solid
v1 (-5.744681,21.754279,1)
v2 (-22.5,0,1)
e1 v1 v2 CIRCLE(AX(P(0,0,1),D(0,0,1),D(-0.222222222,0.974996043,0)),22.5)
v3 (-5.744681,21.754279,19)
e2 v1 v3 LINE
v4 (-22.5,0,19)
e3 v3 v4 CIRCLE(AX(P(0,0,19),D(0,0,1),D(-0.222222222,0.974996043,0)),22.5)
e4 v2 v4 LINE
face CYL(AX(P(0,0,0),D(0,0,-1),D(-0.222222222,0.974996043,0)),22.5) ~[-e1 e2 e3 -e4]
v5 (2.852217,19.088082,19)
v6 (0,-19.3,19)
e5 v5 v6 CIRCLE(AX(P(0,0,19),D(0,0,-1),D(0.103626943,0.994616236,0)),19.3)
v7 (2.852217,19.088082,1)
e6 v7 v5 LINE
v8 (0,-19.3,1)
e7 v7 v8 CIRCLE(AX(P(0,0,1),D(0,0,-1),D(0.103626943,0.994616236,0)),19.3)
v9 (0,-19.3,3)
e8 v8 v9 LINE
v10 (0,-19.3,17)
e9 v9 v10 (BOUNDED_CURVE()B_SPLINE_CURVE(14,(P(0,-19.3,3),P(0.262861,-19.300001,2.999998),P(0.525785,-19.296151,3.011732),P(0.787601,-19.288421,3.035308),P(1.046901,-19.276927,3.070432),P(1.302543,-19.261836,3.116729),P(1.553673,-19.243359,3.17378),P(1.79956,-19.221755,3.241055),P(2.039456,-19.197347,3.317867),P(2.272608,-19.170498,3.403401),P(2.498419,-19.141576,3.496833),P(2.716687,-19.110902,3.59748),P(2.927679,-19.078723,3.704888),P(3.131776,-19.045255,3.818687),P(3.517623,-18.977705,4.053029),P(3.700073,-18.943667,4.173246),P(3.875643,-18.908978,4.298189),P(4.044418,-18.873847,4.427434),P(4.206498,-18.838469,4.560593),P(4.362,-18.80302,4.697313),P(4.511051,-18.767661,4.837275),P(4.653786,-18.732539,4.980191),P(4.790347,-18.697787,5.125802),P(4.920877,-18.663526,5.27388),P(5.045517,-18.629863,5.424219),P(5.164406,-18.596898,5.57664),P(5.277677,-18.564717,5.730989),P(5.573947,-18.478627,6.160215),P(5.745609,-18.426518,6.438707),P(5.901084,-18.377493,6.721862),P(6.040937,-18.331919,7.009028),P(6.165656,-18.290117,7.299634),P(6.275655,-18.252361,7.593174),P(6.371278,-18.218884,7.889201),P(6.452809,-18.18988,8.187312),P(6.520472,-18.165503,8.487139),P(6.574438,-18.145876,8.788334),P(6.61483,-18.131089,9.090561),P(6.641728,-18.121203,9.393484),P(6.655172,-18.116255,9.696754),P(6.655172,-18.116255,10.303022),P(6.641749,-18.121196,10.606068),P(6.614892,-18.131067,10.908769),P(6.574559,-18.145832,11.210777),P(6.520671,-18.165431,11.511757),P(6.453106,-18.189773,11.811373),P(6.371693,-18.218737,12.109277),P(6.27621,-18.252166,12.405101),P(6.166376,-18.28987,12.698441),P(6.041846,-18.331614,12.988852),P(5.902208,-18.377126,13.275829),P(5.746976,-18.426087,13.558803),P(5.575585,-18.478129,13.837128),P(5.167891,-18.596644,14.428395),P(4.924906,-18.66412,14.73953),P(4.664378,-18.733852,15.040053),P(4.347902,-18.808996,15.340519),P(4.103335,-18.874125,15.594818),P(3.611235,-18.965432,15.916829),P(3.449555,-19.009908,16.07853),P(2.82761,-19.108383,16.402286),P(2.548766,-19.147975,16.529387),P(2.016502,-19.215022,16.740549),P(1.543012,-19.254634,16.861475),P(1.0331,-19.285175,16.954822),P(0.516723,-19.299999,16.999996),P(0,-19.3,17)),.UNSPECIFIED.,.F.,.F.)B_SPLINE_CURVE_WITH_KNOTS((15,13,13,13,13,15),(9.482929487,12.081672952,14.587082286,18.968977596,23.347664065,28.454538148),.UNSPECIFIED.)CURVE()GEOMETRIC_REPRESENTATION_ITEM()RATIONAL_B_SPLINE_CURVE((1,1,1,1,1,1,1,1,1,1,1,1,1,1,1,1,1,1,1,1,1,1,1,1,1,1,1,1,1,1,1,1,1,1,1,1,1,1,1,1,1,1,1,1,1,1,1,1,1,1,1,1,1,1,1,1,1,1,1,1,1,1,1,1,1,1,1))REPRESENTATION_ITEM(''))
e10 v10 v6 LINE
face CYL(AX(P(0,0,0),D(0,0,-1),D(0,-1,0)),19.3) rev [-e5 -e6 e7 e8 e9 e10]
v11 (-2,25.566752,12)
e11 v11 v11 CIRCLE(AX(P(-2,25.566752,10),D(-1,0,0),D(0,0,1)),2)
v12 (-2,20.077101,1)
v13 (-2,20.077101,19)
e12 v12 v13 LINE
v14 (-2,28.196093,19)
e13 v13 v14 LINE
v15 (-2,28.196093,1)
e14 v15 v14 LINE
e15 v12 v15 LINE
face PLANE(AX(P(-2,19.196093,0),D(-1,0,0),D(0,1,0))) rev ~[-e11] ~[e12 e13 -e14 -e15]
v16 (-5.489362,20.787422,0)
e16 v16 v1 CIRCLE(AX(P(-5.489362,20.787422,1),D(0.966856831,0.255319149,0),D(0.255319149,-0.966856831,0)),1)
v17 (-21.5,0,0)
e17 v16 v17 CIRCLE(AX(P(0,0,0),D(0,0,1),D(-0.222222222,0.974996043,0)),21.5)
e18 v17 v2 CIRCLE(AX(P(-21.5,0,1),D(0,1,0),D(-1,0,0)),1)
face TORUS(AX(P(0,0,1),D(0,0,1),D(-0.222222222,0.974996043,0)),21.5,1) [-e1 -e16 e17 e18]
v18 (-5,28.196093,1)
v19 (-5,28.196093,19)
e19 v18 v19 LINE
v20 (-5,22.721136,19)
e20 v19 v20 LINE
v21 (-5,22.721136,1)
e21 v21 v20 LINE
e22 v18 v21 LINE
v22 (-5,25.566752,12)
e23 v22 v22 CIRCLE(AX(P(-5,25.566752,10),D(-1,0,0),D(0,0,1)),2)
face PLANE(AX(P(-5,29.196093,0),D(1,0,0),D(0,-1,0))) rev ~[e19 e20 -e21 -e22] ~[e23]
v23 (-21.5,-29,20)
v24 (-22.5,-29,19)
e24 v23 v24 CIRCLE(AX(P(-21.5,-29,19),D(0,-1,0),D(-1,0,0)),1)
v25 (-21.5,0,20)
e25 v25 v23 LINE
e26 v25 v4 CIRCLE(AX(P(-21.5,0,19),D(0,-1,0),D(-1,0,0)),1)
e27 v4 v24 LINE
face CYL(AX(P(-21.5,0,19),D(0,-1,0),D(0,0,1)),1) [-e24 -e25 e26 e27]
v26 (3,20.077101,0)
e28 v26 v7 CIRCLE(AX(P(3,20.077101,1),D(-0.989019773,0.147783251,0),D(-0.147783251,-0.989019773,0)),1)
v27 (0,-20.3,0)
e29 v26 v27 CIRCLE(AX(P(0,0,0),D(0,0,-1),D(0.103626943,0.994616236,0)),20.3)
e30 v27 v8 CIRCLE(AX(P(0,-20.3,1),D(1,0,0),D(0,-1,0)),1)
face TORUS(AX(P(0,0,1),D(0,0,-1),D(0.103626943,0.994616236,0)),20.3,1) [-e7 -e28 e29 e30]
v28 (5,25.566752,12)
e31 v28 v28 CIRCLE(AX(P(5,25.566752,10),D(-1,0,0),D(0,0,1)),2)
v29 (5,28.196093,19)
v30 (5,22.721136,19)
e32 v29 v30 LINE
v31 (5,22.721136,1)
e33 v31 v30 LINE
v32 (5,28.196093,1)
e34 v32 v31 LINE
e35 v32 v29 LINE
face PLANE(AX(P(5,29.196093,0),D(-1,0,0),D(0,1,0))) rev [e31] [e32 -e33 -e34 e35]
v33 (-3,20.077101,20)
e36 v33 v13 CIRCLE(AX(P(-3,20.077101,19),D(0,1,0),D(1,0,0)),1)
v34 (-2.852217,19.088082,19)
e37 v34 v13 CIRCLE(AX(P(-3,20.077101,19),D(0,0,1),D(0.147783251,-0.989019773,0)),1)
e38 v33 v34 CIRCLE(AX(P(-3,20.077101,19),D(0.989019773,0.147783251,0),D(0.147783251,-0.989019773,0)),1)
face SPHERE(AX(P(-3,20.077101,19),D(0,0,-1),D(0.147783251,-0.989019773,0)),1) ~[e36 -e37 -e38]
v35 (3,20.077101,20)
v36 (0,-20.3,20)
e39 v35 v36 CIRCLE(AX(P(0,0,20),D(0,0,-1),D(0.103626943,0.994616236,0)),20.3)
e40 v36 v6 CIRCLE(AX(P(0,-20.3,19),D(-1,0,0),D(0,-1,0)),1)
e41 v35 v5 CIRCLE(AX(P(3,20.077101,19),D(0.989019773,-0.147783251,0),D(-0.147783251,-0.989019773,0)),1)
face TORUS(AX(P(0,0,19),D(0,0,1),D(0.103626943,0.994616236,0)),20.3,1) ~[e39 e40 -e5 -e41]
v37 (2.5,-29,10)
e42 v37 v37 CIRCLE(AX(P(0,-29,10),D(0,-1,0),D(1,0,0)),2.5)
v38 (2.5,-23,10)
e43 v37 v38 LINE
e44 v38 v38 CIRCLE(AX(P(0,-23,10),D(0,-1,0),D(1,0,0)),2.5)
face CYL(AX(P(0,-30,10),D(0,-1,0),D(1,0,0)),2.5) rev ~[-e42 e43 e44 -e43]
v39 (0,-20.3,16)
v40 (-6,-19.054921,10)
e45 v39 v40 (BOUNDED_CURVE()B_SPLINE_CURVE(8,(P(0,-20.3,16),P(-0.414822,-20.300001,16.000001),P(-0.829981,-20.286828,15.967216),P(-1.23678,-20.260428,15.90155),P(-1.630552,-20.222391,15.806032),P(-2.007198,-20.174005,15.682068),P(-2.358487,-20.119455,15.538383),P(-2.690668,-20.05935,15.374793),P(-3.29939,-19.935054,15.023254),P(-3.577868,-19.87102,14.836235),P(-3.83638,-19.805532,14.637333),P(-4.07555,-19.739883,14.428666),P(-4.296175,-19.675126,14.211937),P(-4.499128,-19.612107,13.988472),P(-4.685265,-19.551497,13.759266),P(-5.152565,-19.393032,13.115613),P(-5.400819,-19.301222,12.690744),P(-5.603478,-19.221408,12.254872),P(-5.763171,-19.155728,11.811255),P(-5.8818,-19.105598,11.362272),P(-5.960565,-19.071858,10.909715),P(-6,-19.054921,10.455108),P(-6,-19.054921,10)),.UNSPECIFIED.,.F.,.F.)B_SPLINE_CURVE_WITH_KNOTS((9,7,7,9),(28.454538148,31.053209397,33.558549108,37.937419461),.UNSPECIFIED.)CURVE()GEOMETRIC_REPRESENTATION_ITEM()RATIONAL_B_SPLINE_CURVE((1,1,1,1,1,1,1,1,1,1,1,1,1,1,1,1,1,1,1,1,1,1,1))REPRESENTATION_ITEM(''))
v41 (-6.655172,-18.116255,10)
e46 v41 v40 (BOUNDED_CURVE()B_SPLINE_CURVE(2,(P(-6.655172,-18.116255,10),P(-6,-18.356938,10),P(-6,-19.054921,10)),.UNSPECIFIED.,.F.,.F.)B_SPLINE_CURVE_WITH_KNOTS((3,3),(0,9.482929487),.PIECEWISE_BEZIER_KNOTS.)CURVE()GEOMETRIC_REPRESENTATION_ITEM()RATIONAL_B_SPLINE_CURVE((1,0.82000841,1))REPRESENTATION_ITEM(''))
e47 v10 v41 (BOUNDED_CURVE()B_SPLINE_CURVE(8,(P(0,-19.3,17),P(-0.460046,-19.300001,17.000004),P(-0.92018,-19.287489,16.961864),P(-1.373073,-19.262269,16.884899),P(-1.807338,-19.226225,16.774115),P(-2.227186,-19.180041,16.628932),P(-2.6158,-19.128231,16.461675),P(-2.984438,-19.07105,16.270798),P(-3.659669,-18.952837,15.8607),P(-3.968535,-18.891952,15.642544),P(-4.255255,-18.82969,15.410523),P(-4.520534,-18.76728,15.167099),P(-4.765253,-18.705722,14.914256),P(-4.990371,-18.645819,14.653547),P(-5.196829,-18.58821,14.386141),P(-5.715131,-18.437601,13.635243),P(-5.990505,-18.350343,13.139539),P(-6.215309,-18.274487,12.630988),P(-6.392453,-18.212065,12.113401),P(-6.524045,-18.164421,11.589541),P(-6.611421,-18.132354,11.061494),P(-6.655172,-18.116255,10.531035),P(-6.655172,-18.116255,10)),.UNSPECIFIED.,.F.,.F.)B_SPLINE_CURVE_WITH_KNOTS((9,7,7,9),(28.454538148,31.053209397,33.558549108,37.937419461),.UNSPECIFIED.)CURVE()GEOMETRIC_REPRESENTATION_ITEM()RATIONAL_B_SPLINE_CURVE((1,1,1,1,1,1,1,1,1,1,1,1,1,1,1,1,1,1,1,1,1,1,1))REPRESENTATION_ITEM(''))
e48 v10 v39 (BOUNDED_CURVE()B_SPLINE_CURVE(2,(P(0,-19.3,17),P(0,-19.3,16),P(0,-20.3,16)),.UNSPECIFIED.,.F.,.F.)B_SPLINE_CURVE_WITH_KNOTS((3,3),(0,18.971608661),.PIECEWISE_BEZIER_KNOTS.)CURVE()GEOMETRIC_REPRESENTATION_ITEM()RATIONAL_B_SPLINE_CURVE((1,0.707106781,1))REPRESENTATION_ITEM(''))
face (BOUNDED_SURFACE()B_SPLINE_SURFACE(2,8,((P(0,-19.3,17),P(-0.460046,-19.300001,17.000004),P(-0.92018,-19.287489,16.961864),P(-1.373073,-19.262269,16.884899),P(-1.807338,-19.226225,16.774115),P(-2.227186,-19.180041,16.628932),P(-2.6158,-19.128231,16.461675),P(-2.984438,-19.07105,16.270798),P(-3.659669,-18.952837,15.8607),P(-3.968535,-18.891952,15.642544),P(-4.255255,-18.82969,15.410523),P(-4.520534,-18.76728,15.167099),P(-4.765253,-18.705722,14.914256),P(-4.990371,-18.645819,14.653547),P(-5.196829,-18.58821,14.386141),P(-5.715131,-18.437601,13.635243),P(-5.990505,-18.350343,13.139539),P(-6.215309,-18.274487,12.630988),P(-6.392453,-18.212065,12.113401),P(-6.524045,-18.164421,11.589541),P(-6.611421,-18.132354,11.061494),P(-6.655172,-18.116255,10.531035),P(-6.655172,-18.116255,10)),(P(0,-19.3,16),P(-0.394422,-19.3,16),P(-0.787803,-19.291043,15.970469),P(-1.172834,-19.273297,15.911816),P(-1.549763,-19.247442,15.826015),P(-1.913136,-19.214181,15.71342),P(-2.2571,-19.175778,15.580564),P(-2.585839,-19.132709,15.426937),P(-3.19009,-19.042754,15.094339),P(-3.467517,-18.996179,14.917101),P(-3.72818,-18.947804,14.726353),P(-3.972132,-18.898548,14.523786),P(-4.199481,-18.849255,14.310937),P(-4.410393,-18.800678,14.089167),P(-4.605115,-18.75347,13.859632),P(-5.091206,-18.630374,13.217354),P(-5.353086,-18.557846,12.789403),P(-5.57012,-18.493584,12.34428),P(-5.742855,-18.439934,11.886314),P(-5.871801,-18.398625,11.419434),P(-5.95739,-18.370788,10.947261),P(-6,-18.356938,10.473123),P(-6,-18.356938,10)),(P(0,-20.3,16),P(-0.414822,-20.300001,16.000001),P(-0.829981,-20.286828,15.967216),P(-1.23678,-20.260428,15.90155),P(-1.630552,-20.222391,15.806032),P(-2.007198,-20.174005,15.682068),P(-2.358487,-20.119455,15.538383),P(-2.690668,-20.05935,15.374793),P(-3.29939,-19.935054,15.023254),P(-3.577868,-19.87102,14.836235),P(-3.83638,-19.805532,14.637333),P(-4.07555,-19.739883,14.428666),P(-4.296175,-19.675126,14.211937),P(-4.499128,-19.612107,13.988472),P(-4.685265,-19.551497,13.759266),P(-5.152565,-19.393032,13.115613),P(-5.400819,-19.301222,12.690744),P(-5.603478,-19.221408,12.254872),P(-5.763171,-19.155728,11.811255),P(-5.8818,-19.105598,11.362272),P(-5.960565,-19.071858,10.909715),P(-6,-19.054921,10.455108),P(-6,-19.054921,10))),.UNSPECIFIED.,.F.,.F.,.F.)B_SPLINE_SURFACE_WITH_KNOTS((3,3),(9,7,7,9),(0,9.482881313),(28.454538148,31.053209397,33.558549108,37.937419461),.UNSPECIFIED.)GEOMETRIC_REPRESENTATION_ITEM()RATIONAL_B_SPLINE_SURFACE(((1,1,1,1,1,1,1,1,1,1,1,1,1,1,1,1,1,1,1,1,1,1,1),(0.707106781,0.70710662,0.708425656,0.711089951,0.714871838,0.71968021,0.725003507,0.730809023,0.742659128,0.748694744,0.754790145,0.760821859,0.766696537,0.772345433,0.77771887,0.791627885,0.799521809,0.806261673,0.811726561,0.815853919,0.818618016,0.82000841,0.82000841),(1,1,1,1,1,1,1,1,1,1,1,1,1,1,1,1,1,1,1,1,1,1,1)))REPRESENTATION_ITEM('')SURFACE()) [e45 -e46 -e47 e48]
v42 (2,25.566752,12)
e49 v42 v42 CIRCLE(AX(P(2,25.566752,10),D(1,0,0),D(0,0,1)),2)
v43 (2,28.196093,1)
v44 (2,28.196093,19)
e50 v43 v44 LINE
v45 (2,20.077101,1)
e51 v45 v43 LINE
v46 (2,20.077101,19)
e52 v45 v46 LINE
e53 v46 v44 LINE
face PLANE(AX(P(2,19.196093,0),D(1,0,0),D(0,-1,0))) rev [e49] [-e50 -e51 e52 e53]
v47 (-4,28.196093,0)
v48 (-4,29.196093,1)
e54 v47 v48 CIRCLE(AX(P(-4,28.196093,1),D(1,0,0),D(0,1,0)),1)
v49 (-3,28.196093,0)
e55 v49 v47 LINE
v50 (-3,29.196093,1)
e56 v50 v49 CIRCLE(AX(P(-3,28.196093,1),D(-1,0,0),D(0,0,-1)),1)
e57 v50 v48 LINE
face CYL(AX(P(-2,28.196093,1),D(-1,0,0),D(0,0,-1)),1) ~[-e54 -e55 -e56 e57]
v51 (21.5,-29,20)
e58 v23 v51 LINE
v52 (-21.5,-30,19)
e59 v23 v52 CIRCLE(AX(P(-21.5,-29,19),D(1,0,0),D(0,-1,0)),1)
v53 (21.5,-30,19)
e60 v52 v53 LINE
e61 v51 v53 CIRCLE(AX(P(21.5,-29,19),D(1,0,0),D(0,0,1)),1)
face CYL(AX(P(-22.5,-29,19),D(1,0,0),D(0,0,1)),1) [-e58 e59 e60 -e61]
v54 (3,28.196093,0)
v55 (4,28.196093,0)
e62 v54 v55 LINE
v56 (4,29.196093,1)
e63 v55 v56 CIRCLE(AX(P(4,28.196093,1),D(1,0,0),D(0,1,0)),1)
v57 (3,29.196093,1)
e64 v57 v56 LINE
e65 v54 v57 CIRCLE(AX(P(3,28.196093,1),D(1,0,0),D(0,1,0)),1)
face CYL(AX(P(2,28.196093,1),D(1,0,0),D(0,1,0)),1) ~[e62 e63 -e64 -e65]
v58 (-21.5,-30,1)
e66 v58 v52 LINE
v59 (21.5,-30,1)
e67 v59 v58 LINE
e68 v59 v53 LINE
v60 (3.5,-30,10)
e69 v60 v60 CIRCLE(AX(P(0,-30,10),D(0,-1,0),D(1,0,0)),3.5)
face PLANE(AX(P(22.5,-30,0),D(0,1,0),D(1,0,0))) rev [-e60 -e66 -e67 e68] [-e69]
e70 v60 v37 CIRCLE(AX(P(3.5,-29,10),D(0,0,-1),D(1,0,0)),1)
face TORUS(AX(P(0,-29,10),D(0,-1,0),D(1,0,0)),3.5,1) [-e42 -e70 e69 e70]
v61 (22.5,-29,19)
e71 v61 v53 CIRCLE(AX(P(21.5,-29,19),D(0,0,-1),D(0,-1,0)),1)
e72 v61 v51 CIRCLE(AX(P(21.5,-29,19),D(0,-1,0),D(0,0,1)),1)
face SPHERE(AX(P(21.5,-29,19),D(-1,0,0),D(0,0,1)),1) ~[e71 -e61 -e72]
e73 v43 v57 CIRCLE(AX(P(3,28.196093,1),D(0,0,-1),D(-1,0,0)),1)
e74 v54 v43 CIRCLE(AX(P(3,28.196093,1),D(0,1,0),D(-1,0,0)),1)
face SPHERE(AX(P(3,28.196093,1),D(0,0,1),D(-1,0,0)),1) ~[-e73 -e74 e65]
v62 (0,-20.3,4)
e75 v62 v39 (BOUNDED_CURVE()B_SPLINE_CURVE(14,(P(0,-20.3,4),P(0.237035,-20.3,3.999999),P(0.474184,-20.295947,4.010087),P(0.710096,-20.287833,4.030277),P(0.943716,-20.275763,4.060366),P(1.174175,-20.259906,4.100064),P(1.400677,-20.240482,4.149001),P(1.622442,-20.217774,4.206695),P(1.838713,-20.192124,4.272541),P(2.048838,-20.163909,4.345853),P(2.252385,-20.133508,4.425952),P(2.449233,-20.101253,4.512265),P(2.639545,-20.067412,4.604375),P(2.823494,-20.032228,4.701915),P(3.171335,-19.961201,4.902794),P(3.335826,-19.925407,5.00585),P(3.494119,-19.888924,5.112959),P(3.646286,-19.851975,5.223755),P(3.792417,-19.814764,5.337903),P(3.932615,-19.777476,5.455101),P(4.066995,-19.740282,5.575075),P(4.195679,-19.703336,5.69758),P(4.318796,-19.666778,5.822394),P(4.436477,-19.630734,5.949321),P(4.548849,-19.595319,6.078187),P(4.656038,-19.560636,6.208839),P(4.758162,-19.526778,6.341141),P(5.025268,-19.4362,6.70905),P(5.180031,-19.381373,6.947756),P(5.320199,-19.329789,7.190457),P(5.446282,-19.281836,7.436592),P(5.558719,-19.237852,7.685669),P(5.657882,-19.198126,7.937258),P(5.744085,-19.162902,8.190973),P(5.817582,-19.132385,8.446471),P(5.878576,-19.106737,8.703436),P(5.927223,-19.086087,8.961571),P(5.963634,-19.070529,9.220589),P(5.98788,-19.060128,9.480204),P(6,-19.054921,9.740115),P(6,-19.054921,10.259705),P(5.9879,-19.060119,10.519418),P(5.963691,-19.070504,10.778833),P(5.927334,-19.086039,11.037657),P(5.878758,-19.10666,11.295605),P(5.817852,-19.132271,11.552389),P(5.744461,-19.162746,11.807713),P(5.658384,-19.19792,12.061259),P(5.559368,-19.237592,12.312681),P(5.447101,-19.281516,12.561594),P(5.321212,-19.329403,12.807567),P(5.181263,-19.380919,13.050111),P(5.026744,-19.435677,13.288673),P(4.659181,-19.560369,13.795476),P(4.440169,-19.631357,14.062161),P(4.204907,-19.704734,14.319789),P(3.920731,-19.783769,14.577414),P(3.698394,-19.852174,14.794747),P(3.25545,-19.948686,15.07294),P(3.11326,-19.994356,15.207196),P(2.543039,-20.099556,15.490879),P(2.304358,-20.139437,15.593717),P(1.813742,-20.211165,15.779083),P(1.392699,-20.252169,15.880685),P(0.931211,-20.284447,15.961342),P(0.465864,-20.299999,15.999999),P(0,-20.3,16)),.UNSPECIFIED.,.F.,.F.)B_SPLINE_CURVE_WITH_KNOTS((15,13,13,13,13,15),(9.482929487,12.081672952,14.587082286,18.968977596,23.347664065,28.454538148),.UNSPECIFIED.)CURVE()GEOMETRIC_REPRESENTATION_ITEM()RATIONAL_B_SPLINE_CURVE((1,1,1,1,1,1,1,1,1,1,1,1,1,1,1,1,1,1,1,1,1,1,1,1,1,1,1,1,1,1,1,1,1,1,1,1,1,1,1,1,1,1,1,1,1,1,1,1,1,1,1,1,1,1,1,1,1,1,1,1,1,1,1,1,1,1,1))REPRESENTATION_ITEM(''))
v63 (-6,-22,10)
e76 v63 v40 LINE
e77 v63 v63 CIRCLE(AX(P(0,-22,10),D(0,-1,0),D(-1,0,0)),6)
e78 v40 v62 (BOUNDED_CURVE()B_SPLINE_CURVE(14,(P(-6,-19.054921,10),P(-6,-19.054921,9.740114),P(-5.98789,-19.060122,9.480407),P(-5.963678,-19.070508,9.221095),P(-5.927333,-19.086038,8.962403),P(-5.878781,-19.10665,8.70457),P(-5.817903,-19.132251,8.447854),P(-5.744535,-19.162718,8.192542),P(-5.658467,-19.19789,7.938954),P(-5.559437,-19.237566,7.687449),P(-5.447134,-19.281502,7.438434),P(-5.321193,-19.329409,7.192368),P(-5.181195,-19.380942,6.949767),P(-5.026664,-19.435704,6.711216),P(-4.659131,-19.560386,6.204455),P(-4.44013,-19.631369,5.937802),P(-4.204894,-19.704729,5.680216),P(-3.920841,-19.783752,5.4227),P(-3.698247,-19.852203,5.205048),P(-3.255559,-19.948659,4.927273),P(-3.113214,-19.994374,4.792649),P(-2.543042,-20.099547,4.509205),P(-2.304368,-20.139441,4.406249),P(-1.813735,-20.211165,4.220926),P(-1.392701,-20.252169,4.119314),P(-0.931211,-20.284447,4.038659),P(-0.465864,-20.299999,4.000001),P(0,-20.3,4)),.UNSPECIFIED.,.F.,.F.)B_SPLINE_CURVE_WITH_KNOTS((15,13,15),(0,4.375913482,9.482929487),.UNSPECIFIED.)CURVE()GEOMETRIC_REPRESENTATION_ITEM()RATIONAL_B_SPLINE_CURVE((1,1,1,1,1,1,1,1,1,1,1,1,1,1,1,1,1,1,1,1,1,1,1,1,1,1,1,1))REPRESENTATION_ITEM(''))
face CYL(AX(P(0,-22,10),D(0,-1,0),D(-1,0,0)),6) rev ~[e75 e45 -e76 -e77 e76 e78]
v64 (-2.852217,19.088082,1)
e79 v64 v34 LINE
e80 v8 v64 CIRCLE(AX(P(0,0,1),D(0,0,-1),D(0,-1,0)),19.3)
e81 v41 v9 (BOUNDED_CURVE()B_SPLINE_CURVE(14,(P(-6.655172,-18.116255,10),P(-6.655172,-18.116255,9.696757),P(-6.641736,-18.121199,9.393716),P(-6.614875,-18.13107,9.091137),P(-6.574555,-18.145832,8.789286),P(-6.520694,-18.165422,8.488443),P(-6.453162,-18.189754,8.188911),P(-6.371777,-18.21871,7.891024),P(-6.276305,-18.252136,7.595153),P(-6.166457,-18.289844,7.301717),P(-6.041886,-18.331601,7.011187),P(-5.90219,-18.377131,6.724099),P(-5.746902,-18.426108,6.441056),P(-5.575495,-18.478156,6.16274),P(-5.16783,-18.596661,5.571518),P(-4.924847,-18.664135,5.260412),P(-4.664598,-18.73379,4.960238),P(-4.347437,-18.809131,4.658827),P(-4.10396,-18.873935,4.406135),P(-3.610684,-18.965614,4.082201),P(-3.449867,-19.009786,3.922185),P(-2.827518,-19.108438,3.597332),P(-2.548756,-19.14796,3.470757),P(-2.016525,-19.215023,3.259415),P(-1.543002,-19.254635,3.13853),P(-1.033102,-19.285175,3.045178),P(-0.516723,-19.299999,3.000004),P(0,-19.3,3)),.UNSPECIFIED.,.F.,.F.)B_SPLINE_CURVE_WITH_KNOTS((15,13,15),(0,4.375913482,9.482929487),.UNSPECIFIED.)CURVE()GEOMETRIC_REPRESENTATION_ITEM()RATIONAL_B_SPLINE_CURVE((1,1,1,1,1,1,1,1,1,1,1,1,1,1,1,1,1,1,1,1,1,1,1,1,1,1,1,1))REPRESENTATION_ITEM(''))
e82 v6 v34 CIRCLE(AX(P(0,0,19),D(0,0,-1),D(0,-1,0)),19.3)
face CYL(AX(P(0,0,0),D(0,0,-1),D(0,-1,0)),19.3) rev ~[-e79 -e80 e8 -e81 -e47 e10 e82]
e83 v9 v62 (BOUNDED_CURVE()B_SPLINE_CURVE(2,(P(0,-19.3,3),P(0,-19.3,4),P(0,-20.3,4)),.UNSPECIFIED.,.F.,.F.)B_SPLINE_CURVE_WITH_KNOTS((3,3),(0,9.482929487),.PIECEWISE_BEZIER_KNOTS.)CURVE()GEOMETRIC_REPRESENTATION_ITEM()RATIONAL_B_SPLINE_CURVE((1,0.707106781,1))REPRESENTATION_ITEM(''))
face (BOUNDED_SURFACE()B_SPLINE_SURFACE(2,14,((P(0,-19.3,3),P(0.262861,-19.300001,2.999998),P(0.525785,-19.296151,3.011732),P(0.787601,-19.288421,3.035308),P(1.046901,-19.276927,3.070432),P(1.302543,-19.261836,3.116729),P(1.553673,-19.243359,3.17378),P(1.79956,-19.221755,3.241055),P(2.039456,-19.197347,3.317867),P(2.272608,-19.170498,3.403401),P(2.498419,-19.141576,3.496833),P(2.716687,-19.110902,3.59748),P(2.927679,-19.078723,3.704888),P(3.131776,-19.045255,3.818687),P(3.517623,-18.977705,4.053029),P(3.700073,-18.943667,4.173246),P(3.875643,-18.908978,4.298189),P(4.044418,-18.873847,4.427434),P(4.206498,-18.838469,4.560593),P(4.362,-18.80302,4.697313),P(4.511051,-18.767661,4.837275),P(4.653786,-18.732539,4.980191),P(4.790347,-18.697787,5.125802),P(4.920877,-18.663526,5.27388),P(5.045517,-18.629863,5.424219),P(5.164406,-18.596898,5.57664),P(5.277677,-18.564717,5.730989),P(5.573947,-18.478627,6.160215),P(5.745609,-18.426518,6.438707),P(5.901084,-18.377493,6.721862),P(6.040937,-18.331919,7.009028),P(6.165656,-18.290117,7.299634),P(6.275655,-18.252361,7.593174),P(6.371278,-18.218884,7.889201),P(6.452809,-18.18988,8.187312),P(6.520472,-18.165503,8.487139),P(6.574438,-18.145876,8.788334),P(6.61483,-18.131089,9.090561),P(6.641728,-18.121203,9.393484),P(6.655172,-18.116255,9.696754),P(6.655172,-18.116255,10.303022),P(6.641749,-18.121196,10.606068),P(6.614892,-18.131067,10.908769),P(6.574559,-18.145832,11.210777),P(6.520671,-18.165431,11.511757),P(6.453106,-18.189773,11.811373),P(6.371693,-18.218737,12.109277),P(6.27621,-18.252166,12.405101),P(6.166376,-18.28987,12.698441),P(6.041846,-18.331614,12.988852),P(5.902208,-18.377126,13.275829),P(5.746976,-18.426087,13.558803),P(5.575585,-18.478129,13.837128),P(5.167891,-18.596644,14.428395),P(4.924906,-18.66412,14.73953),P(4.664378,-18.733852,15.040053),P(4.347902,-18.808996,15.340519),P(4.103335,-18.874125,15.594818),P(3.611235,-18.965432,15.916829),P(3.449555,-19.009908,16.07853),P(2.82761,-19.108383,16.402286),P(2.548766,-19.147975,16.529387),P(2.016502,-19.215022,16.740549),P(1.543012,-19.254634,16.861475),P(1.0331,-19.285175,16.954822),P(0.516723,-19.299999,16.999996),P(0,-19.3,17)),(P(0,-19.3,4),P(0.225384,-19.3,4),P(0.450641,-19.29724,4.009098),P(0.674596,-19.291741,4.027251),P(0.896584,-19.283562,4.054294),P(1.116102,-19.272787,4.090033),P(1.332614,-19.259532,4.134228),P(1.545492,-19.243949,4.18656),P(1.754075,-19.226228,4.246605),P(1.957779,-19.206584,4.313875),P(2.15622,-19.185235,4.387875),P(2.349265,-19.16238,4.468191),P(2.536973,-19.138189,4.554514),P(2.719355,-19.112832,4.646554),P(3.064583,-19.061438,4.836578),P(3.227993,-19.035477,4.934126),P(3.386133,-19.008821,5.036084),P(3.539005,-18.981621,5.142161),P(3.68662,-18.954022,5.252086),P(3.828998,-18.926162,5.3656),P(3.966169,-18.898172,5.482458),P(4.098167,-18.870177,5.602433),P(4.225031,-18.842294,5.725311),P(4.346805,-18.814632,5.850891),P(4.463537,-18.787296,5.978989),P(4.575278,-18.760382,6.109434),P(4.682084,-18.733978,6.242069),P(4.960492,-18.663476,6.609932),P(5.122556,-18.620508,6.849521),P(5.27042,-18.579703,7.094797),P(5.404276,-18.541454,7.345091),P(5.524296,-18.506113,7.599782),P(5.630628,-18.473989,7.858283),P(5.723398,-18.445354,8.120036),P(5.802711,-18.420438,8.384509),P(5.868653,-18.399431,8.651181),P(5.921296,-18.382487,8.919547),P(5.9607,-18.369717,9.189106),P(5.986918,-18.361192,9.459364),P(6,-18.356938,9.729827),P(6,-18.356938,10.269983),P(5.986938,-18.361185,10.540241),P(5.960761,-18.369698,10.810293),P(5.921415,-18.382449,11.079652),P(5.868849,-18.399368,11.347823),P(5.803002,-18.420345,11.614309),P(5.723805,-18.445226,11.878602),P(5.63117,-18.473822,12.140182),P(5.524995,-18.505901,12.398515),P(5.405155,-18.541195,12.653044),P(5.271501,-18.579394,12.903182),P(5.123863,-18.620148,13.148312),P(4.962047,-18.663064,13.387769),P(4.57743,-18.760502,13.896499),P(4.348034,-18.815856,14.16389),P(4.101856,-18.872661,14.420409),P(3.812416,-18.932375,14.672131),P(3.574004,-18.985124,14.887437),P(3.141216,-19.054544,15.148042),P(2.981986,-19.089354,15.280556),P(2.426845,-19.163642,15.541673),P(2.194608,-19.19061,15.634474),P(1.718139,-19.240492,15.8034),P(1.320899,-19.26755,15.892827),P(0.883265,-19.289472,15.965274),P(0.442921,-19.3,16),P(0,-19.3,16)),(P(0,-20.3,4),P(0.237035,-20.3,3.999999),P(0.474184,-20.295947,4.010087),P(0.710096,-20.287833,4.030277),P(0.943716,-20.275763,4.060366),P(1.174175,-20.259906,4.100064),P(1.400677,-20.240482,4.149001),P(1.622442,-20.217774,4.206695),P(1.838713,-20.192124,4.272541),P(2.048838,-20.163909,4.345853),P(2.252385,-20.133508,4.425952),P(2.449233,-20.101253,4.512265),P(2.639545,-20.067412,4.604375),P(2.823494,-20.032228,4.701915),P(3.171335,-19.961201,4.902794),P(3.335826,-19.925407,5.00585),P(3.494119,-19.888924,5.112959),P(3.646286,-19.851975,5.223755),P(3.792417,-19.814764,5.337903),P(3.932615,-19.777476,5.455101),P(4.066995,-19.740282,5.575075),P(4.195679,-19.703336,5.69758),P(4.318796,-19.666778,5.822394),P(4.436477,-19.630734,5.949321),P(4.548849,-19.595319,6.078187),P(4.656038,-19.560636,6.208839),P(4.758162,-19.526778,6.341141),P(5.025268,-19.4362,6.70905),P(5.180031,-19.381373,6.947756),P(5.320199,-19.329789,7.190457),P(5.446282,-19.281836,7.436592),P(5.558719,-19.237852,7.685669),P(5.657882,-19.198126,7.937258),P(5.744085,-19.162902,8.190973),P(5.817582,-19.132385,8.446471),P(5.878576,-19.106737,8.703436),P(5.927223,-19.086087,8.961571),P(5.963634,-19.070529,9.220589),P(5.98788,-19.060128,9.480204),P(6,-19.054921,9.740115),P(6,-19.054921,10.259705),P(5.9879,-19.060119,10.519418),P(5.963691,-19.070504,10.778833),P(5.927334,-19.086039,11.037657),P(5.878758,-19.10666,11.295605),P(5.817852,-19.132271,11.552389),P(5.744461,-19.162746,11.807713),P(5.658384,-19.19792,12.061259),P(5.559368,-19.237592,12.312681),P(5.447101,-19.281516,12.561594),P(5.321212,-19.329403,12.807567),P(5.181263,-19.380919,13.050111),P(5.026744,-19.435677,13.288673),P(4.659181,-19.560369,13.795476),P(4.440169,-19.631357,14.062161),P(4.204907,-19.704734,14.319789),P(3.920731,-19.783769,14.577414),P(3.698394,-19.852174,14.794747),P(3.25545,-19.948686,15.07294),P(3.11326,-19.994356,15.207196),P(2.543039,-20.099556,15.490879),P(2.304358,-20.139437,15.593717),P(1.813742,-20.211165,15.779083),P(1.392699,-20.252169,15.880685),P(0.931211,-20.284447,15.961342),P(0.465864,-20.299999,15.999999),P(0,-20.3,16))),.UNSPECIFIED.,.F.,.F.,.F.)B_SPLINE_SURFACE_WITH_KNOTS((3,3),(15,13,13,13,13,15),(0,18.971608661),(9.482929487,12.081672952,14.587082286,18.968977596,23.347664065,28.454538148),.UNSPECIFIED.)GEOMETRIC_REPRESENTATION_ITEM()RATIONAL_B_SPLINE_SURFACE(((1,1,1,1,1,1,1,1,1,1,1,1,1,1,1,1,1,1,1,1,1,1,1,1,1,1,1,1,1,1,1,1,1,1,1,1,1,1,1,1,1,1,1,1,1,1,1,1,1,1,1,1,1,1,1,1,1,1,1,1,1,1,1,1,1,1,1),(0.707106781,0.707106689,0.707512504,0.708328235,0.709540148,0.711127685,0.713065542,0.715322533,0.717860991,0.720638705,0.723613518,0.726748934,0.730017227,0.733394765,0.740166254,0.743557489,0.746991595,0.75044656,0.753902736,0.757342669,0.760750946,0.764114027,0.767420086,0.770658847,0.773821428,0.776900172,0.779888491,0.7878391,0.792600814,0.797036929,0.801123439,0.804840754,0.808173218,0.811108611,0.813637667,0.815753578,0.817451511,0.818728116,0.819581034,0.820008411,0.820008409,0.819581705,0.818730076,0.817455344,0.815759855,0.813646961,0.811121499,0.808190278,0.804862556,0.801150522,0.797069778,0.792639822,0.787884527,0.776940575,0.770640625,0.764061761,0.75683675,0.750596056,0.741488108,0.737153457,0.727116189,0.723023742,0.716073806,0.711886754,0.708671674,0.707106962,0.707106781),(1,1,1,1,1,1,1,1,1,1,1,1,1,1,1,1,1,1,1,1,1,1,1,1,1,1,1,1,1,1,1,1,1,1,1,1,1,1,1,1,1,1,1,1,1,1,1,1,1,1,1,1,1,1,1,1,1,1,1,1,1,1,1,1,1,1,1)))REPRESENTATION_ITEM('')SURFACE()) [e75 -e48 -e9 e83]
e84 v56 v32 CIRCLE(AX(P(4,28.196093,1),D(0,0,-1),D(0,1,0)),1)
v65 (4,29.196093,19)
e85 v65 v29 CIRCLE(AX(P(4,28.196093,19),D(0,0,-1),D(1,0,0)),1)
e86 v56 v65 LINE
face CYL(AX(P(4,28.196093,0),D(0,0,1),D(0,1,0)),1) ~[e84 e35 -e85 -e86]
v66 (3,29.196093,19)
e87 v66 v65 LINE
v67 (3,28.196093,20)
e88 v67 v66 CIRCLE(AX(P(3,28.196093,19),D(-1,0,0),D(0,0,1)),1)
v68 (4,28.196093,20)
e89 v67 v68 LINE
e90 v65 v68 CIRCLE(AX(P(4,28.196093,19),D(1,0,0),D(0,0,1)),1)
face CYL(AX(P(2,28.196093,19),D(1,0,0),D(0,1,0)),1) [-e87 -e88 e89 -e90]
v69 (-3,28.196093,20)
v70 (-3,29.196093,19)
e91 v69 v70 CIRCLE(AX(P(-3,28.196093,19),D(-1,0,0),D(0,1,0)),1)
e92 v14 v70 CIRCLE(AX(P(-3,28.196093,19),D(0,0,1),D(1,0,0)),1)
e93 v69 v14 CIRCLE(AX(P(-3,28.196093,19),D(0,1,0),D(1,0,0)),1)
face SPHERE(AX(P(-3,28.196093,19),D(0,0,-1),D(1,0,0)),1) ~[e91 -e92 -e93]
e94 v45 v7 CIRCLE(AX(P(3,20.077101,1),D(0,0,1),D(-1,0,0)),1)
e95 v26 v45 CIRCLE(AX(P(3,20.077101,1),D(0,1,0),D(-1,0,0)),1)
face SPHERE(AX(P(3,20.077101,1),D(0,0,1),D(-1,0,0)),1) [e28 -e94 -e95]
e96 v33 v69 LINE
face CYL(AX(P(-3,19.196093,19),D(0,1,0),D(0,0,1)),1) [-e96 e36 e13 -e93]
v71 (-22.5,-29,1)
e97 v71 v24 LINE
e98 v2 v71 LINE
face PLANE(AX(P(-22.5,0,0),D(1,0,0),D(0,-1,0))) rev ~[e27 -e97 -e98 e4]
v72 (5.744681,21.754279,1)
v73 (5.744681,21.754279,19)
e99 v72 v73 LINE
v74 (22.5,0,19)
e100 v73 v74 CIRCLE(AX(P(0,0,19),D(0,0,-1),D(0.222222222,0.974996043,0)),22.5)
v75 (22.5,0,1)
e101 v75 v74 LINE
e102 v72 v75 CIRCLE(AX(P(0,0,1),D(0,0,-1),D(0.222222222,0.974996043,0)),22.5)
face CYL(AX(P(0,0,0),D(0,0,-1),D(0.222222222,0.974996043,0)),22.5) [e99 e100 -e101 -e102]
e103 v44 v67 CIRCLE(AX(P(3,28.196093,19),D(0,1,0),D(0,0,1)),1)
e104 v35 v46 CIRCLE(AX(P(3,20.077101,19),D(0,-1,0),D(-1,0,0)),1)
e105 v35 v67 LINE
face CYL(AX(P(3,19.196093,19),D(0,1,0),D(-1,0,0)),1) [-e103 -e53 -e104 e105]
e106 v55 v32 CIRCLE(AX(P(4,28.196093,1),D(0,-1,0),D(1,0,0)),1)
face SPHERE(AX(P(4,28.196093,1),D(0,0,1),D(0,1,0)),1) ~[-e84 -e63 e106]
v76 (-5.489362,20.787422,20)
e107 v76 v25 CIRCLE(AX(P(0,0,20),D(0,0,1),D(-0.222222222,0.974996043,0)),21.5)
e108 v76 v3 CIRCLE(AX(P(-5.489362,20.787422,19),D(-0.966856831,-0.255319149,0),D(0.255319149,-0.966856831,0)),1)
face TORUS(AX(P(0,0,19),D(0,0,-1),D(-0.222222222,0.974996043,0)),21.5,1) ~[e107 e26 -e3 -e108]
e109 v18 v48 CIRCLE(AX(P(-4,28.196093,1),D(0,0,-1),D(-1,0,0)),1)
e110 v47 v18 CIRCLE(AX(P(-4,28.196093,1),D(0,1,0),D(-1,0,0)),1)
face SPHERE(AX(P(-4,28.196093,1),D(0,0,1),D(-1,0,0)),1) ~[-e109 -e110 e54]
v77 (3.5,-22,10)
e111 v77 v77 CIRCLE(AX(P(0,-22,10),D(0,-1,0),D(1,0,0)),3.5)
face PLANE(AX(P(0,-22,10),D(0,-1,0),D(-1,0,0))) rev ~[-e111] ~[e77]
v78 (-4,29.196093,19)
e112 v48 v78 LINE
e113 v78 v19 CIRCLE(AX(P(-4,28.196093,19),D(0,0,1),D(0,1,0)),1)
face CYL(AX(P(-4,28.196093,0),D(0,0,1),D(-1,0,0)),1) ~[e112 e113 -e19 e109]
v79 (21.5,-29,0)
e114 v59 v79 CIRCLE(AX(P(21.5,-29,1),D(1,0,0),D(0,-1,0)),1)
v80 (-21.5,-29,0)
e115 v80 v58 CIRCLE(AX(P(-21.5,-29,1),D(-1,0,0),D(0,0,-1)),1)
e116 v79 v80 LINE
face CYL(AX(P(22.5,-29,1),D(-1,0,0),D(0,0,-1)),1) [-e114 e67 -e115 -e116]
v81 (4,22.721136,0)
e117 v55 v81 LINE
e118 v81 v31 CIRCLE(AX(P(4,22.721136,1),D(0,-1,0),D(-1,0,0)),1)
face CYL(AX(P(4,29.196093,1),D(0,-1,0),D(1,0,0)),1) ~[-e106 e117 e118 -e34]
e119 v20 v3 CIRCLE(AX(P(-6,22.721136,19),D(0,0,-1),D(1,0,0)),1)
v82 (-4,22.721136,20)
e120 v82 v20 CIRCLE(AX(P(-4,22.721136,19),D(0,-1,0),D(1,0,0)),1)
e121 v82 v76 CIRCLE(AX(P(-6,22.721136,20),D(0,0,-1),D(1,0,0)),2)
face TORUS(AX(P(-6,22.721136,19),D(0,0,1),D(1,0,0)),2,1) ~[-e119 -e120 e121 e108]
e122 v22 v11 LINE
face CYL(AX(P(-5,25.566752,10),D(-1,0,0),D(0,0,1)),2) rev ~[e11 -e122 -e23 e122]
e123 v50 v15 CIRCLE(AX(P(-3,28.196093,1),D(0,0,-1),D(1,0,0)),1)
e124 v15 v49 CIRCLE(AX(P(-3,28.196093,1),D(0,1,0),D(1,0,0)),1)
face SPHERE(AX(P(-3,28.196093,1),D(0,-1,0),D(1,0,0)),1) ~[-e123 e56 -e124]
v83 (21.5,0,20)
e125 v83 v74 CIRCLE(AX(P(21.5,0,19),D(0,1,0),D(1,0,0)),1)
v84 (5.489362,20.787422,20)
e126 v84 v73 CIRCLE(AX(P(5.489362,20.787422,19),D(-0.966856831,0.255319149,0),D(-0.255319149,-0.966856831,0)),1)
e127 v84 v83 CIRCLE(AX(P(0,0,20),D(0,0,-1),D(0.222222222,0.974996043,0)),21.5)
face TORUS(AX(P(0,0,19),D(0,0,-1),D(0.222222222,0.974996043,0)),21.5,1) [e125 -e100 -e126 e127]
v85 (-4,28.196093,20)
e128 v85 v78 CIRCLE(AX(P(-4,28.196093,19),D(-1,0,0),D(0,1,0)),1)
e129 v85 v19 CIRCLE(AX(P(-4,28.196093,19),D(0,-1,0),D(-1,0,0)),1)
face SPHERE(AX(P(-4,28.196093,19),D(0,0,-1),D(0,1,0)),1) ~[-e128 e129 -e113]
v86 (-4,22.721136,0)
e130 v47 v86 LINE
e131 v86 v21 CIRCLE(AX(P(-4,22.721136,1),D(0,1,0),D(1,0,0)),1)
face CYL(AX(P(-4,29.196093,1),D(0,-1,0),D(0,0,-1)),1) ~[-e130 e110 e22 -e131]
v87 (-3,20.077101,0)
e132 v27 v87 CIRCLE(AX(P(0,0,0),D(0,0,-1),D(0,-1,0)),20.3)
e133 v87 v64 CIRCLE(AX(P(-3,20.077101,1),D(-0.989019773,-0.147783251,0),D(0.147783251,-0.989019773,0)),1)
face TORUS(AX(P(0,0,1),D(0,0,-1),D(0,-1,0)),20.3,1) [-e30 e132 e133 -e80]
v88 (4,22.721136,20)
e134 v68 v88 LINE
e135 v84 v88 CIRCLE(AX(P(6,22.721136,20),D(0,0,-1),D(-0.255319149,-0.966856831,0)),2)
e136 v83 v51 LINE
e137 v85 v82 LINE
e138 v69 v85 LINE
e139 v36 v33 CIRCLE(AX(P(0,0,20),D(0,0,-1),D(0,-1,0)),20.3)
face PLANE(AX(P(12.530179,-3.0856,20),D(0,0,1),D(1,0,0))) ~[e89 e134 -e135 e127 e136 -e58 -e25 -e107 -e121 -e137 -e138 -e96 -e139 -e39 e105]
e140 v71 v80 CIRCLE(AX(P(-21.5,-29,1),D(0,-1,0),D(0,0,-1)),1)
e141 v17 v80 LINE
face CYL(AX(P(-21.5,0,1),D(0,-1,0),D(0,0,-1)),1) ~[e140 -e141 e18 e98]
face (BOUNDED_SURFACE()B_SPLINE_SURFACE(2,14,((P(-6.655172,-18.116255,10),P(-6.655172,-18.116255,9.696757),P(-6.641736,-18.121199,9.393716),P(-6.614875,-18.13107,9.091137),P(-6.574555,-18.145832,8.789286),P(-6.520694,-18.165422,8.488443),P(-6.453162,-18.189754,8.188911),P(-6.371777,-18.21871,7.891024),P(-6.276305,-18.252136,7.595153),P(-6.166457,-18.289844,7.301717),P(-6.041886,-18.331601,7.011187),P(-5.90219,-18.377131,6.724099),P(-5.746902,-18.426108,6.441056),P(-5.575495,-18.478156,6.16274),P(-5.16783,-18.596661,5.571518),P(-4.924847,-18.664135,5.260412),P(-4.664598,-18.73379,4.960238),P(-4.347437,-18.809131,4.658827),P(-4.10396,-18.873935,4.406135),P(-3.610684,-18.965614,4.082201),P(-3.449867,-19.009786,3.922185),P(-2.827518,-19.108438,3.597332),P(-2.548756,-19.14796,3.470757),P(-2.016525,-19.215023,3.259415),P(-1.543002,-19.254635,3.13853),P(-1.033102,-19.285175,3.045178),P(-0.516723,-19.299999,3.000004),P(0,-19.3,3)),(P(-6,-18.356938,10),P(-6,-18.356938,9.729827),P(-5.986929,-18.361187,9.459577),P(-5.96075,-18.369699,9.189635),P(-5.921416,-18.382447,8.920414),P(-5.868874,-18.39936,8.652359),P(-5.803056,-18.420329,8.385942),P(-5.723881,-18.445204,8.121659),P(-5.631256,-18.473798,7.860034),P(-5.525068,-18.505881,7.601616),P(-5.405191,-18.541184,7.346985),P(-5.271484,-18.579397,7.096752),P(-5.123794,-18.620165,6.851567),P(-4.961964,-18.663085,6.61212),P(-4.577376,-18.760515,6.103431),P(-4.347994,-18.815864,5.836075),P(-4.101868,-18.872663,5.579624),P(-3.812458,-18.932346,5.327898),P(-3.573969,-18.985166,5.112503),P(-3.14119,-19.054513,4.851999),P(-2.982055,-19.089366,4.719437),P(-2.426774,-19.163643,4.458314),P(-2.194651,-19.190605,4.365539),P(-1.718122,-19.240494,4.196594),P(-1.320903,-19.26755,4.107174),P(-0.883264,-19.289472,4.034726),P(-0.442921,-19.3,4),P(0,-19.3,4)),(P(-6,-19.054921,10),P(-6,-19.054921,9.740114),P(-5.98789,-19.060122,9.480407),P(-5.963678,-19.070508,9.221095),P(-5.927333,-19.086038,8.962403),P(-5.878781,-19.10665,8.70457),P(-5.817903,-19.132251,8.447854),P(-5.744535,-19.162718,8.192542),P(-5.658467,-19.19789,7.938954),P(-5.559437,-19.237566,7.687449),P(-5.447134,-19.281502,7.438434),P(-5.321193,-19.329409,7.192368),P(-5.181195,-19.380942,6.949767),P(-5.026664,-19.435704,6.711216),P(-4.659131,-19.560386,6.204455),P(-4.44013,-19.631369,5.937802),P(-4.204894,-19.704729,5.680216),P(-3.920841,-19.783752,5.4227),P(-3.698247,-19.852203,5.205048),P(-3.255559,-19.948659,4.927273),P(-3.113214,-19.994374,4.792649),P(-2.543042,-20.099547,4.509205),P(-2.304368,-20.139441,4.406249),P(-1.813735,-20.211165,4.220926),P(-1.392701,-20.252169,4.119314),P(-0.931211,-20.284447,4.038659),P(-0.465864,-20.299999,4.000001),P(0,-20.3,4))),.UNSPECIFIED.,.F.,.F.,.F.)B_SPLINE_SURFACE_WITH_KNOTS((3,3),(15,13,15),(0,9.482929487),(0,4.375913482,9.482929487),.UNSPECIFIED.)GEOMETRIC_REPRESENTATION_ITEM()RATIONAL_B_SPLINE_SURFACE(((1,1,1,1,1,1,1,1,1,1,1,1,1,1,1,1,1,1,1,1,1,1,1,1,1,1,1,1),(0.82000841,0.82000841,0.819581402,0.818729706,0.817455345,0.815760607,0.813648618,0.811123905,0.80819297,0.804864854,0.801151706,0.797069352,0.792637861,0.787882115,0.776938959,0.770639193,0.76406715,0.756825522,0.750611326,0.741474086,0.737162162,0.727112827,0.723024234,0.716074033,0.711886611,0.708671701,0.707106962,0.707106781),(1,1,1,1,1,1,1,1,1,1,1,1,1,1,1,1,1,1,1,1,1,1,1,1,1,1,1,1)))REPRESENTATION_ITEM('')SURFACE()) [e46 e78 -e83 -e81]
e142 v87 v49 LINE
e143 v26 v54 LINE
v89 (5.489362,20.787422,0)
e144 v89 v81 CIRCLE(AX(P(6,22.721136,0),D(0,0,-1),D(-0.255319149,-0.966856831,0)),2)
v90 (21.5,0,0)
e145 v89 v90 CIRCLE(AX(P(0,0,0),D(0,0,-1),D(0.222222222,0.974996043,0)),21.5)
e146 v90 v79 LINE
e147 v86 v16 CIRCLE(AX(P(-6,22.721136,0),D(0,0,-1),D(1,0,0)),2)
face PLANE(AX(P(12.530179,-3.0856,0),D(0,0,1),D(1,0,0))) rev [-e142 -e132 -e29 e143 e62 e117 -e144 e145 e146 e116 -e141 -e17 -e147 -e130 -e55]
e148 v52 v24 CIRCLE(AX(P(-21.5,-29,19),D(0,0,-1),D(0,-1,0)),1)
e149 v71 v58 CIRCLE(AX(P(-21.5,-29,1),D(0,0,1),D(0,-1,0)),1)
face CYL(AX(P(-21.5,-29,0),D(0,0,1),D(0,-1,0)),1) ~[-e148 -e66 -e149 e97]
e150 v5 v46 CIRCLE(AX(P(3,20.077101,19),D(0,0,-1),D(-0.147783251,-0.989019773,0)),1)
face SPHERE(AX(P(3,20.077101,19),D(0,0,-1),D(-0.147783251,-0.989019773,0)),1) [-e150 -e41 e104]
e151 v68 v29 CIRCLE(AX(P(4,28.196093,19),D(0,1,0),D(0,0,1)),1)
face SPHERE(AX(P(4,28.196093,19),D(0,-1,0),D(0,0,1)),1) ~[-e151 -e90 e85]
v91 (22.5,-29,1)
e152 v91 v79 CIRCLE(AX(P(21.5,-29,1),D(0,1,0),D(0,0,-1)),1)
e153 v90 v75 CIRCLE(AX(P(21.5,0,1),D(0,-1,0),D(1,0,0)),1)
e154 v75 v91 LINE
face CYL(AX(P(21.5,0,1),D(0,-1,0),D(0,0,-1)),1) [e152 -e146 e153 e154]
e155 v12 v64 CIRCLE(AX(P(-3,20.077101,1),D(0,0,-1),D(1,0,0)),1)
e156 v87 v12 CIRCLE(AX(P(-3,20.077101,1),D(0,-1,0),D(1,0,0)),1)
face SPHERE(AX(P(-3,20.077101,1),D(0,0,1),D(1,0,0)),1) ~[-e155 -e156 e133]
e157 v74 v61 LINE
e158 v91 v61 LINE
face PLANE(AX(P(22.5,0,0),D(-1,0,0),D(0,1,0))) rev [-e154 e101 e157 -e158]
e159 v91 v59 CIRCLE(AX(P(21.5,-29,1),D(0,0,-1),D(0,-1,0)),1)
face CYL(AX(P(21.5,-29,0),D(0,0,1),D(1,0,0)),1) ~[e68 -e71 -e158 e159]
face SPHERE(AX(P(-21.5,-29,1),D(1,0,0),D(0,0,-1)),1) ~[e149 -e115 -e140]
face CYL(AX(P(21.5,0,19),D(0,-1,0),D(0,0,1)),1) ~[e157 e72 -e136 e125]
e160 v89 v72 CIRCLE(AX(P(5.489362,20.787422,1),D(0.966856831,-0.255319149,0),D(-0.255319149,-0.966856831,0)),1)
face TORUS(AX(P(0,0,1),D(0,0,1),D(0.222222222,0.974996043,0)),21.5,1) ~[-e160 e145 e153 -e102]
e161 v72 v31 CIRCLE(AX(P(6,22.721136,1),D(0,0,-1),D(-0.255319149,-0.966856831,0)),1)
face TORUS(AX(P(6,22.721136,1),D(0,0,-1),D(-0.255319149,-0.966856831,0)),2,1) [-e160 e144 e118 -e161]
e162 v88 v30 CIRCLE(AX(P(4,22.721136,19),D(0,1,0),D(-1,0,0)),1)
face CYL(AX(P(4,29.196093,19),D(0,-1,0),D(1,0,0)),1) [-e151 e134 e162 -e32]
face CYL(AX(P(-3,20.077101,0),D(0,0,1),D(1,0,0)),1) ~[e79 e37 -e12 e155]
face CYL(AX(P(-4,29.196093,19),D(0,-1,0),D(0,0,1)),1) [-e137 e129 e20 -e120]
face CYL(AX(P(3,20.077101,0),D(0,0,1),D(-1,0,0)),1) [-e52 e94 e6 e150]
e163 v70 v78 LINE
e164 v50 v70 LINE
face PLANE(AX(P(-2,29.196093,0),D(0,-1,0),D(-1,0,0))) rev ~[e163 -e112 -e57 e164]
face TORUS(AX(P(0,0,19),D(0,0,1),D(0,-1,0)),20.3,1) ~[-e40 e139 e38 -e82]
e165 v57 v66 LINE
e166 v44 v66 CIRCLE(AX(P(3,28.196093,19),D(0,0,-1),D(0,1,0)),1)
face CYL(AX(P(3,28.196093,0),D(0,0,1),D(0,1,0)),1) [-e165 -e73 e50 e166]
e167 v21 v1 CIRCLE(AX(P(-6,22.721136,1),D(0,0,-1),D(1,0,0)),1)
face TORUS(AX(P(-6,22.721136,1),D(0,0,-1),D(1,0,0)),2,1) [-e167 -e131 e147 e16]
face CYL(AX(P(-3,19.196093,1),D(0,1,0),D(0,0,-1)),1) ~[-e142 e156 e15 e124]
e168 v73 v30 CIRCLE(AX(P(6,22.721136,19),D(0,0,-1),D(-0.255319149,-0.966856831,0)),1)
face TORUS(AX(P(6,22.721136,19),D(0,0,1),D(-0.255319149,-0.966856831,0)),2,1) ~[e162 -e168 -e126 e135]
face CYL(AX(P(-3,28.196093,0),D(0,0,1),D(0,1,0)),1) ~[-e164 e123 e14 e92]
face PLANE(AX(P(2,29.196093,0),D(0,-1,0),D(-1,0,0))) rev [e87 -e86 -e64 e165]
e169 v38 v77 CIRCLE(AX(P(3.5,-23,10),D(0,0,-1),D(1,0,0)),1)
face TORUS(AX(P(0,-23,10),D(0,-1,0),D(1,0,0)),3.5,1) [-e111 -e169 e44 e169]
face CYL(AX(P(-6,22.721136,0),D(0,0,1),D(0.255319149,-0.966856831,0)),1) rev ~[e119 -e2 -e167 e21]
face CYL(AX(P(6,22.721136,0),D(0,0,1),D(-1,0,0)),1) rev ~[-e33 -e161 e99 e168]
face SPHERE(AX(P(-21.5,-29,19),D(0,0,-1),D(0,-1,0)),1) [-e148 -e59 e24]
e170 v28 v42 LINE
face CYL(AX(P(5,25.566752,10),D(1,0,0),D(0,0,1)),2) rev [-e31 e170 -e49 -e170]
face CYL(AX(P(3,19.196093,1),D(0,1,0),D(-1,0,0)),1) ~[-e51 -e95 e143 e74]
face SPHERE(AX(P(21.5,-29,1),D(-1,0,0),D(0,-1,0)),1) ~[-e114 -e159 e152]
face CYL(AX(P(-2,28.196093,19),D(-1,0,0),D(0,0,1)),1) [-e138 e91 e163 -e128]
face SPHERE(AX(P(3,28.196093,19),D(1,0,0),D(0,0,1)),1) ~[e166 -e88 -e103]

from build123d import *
from build123d.topology import SkipClean

# Parameters (mm, degrees)
BOSS_EXTRUDE1_DEPTH = 20
SKETCH6_R           = 2
CUT_EXTRUDE4_DEPTH  = 7
SKETCH7_R           = 2.5
CUT_EXTRUDE5_DEPTH  = 23
CUT_EXTRUDE6_START  = -8
SKETCH8_R           = 6
CUT_EXTRUDE6_DEPTH  = 5
FILLET5_R           = 1


with BuildPart() as part:
    # Sketch1 → Boss-Extrude1 (new body)
    with BuildSketch(Plane.XY):
        with BuildLine():
            Line((-2, 29.196093353), (-5, 29.196093353))
            Line((-5, 29.196093353), (-5, 21.937410968))
            ThreePointArc((-5, 21.937410968), (-17.589059099, 14.0312152), (-22.5, 0))
            Line((-22.5, 0), (-22.5, -16.74713815))
            Line((-22.5, -16.74713815), (-22.5, -30))
            Line((-22.5, -30), (0, -30))
            Line((0, -30), (0, -19.3))
            ThreePointArc((0, -19.3), (-19.274005833, -1.001348664), (-2, 19.196093353))
            Line((-2, 19.196093353), (-2, 29.196093353))
        make_face()
    boss_extrude1 = extrude(amount=BOSS_EXTRUDE1_DEPTH)

    # Sketch6 → Cut-Extrude4 (cut)
    with BuildSketch(Plane.ZY.offset(5)):
        with Locations((10, 25.566752161)):
            Circle(SKETCH6_R)
    cut_extrude4 = extrude(amount=-CUT_EXTRUDE4_DEPTH, mode=Mode.SUBTRACT)

    # Mirror3: Boss-Extrude1, Cut-Extrude4 across plane
    with SkipClean():  # the faces are left unmerged after this step: merging them gives an invalid solid
        add(boss_extrude1.mirror(Plane(origin=(0, -19.3, 20), x_dir=(0, 0, 1), z_dir=(-1, 0, 0))))
        add(cut_extrude4.mirror(Plane(origin=(0, -19.3, 20), x_dir=(0, 0, 1), z_dir=(-1, 0, 0))), mode=Mode.SUBTRACT)

    # Sketch7 → Cut-Extrude5 (cut)
    with SkipClean():  # the faces are left unmerged after this step: merging them gives an invalid solid
        with BuildSketch(Plane.XZ.offset(30)):
            with Locations((0, 10)):
                Circle(SKETCH7_R)
        extrude(amount=-CUT_EXTRUDE5_DEPTH, mode=Mode.SUBTRACT)

    # Sketch8 → Cut-Extrude6 (cut)
    with SkipClean():  # the faces are left unmerged after this step: merging them gives an invalid solid
        with BuildSketch(Plane(origin=(0, -30, 0), x_dir=(-1, 0, 0), z_dir=(0, -1, 0)).offset(CUT_EXTRUDE6_START)):
            with Locations((0, -10)):
                Circle(SKETCH8_R)
        extrude(amount=-CUT_EXTRUDE6_DEPTH, mode=Mode.SUBTRACT)

    # Fillet5
    fillet5_edges = [part.edges().sort_by_distance(p)[0] for p in [
        (-4.243087858, -18.827804053, 5.757806515),
        (-2.5, -22, 10),
        (1.767766953, -30, 8.232233047),
        (17.589059099, 14.0312152, 0),
        (5, 25.566752161, 0),
        (3.5, 29.196093353, 0),
        (2, 24.196093353, 0),
        (22.5, -15, 0),
        (17.589059099, 14.0312152, 20),
        (5, 25.566752161, 20),
        (3.5, 29.196093353, 20),
        (2, 24.196093353, 20),
        (22.5, -15, 20),
        (22.5, -30, 10),
        (2, 19.196093353, 10),
        (2, 29.196093353, 10),
        (5, 29.196093353, 10),
        (5, 21.937410968, 10),
        (-17.589059099, 14.0312152, 0),
        (-22.5, -15, 0),
        (-11.25, -30, 0),
        (-19.274005833, -1.001348664, 0),
        (-2, 24.196093353, 0),
        (-3.5, 29.196093353, 0),
        (-5, 25.566752161, 0),
        (-22.5, -15, 20),
        (-11.25, -30, 20),
        (-19.274005833, -1.001348664, 20),
        (-2, 24.196093353, 20),
        (-3.5, 29.196093353, 20),
        (-5, 25.566752161, 20),
        (-5, 21.937410968, 10),
        (-5, 29.196093353, 10),
        (-2, 29.196093353, 10),
        (-2, 19.196093353, 10),
        (-22.5, -30, 10),
        (-17.589059099, 14.0312152, 20),
    ]]
    fillet(fillet5_edges, radius=FILLET5_R)


solid = part.part
